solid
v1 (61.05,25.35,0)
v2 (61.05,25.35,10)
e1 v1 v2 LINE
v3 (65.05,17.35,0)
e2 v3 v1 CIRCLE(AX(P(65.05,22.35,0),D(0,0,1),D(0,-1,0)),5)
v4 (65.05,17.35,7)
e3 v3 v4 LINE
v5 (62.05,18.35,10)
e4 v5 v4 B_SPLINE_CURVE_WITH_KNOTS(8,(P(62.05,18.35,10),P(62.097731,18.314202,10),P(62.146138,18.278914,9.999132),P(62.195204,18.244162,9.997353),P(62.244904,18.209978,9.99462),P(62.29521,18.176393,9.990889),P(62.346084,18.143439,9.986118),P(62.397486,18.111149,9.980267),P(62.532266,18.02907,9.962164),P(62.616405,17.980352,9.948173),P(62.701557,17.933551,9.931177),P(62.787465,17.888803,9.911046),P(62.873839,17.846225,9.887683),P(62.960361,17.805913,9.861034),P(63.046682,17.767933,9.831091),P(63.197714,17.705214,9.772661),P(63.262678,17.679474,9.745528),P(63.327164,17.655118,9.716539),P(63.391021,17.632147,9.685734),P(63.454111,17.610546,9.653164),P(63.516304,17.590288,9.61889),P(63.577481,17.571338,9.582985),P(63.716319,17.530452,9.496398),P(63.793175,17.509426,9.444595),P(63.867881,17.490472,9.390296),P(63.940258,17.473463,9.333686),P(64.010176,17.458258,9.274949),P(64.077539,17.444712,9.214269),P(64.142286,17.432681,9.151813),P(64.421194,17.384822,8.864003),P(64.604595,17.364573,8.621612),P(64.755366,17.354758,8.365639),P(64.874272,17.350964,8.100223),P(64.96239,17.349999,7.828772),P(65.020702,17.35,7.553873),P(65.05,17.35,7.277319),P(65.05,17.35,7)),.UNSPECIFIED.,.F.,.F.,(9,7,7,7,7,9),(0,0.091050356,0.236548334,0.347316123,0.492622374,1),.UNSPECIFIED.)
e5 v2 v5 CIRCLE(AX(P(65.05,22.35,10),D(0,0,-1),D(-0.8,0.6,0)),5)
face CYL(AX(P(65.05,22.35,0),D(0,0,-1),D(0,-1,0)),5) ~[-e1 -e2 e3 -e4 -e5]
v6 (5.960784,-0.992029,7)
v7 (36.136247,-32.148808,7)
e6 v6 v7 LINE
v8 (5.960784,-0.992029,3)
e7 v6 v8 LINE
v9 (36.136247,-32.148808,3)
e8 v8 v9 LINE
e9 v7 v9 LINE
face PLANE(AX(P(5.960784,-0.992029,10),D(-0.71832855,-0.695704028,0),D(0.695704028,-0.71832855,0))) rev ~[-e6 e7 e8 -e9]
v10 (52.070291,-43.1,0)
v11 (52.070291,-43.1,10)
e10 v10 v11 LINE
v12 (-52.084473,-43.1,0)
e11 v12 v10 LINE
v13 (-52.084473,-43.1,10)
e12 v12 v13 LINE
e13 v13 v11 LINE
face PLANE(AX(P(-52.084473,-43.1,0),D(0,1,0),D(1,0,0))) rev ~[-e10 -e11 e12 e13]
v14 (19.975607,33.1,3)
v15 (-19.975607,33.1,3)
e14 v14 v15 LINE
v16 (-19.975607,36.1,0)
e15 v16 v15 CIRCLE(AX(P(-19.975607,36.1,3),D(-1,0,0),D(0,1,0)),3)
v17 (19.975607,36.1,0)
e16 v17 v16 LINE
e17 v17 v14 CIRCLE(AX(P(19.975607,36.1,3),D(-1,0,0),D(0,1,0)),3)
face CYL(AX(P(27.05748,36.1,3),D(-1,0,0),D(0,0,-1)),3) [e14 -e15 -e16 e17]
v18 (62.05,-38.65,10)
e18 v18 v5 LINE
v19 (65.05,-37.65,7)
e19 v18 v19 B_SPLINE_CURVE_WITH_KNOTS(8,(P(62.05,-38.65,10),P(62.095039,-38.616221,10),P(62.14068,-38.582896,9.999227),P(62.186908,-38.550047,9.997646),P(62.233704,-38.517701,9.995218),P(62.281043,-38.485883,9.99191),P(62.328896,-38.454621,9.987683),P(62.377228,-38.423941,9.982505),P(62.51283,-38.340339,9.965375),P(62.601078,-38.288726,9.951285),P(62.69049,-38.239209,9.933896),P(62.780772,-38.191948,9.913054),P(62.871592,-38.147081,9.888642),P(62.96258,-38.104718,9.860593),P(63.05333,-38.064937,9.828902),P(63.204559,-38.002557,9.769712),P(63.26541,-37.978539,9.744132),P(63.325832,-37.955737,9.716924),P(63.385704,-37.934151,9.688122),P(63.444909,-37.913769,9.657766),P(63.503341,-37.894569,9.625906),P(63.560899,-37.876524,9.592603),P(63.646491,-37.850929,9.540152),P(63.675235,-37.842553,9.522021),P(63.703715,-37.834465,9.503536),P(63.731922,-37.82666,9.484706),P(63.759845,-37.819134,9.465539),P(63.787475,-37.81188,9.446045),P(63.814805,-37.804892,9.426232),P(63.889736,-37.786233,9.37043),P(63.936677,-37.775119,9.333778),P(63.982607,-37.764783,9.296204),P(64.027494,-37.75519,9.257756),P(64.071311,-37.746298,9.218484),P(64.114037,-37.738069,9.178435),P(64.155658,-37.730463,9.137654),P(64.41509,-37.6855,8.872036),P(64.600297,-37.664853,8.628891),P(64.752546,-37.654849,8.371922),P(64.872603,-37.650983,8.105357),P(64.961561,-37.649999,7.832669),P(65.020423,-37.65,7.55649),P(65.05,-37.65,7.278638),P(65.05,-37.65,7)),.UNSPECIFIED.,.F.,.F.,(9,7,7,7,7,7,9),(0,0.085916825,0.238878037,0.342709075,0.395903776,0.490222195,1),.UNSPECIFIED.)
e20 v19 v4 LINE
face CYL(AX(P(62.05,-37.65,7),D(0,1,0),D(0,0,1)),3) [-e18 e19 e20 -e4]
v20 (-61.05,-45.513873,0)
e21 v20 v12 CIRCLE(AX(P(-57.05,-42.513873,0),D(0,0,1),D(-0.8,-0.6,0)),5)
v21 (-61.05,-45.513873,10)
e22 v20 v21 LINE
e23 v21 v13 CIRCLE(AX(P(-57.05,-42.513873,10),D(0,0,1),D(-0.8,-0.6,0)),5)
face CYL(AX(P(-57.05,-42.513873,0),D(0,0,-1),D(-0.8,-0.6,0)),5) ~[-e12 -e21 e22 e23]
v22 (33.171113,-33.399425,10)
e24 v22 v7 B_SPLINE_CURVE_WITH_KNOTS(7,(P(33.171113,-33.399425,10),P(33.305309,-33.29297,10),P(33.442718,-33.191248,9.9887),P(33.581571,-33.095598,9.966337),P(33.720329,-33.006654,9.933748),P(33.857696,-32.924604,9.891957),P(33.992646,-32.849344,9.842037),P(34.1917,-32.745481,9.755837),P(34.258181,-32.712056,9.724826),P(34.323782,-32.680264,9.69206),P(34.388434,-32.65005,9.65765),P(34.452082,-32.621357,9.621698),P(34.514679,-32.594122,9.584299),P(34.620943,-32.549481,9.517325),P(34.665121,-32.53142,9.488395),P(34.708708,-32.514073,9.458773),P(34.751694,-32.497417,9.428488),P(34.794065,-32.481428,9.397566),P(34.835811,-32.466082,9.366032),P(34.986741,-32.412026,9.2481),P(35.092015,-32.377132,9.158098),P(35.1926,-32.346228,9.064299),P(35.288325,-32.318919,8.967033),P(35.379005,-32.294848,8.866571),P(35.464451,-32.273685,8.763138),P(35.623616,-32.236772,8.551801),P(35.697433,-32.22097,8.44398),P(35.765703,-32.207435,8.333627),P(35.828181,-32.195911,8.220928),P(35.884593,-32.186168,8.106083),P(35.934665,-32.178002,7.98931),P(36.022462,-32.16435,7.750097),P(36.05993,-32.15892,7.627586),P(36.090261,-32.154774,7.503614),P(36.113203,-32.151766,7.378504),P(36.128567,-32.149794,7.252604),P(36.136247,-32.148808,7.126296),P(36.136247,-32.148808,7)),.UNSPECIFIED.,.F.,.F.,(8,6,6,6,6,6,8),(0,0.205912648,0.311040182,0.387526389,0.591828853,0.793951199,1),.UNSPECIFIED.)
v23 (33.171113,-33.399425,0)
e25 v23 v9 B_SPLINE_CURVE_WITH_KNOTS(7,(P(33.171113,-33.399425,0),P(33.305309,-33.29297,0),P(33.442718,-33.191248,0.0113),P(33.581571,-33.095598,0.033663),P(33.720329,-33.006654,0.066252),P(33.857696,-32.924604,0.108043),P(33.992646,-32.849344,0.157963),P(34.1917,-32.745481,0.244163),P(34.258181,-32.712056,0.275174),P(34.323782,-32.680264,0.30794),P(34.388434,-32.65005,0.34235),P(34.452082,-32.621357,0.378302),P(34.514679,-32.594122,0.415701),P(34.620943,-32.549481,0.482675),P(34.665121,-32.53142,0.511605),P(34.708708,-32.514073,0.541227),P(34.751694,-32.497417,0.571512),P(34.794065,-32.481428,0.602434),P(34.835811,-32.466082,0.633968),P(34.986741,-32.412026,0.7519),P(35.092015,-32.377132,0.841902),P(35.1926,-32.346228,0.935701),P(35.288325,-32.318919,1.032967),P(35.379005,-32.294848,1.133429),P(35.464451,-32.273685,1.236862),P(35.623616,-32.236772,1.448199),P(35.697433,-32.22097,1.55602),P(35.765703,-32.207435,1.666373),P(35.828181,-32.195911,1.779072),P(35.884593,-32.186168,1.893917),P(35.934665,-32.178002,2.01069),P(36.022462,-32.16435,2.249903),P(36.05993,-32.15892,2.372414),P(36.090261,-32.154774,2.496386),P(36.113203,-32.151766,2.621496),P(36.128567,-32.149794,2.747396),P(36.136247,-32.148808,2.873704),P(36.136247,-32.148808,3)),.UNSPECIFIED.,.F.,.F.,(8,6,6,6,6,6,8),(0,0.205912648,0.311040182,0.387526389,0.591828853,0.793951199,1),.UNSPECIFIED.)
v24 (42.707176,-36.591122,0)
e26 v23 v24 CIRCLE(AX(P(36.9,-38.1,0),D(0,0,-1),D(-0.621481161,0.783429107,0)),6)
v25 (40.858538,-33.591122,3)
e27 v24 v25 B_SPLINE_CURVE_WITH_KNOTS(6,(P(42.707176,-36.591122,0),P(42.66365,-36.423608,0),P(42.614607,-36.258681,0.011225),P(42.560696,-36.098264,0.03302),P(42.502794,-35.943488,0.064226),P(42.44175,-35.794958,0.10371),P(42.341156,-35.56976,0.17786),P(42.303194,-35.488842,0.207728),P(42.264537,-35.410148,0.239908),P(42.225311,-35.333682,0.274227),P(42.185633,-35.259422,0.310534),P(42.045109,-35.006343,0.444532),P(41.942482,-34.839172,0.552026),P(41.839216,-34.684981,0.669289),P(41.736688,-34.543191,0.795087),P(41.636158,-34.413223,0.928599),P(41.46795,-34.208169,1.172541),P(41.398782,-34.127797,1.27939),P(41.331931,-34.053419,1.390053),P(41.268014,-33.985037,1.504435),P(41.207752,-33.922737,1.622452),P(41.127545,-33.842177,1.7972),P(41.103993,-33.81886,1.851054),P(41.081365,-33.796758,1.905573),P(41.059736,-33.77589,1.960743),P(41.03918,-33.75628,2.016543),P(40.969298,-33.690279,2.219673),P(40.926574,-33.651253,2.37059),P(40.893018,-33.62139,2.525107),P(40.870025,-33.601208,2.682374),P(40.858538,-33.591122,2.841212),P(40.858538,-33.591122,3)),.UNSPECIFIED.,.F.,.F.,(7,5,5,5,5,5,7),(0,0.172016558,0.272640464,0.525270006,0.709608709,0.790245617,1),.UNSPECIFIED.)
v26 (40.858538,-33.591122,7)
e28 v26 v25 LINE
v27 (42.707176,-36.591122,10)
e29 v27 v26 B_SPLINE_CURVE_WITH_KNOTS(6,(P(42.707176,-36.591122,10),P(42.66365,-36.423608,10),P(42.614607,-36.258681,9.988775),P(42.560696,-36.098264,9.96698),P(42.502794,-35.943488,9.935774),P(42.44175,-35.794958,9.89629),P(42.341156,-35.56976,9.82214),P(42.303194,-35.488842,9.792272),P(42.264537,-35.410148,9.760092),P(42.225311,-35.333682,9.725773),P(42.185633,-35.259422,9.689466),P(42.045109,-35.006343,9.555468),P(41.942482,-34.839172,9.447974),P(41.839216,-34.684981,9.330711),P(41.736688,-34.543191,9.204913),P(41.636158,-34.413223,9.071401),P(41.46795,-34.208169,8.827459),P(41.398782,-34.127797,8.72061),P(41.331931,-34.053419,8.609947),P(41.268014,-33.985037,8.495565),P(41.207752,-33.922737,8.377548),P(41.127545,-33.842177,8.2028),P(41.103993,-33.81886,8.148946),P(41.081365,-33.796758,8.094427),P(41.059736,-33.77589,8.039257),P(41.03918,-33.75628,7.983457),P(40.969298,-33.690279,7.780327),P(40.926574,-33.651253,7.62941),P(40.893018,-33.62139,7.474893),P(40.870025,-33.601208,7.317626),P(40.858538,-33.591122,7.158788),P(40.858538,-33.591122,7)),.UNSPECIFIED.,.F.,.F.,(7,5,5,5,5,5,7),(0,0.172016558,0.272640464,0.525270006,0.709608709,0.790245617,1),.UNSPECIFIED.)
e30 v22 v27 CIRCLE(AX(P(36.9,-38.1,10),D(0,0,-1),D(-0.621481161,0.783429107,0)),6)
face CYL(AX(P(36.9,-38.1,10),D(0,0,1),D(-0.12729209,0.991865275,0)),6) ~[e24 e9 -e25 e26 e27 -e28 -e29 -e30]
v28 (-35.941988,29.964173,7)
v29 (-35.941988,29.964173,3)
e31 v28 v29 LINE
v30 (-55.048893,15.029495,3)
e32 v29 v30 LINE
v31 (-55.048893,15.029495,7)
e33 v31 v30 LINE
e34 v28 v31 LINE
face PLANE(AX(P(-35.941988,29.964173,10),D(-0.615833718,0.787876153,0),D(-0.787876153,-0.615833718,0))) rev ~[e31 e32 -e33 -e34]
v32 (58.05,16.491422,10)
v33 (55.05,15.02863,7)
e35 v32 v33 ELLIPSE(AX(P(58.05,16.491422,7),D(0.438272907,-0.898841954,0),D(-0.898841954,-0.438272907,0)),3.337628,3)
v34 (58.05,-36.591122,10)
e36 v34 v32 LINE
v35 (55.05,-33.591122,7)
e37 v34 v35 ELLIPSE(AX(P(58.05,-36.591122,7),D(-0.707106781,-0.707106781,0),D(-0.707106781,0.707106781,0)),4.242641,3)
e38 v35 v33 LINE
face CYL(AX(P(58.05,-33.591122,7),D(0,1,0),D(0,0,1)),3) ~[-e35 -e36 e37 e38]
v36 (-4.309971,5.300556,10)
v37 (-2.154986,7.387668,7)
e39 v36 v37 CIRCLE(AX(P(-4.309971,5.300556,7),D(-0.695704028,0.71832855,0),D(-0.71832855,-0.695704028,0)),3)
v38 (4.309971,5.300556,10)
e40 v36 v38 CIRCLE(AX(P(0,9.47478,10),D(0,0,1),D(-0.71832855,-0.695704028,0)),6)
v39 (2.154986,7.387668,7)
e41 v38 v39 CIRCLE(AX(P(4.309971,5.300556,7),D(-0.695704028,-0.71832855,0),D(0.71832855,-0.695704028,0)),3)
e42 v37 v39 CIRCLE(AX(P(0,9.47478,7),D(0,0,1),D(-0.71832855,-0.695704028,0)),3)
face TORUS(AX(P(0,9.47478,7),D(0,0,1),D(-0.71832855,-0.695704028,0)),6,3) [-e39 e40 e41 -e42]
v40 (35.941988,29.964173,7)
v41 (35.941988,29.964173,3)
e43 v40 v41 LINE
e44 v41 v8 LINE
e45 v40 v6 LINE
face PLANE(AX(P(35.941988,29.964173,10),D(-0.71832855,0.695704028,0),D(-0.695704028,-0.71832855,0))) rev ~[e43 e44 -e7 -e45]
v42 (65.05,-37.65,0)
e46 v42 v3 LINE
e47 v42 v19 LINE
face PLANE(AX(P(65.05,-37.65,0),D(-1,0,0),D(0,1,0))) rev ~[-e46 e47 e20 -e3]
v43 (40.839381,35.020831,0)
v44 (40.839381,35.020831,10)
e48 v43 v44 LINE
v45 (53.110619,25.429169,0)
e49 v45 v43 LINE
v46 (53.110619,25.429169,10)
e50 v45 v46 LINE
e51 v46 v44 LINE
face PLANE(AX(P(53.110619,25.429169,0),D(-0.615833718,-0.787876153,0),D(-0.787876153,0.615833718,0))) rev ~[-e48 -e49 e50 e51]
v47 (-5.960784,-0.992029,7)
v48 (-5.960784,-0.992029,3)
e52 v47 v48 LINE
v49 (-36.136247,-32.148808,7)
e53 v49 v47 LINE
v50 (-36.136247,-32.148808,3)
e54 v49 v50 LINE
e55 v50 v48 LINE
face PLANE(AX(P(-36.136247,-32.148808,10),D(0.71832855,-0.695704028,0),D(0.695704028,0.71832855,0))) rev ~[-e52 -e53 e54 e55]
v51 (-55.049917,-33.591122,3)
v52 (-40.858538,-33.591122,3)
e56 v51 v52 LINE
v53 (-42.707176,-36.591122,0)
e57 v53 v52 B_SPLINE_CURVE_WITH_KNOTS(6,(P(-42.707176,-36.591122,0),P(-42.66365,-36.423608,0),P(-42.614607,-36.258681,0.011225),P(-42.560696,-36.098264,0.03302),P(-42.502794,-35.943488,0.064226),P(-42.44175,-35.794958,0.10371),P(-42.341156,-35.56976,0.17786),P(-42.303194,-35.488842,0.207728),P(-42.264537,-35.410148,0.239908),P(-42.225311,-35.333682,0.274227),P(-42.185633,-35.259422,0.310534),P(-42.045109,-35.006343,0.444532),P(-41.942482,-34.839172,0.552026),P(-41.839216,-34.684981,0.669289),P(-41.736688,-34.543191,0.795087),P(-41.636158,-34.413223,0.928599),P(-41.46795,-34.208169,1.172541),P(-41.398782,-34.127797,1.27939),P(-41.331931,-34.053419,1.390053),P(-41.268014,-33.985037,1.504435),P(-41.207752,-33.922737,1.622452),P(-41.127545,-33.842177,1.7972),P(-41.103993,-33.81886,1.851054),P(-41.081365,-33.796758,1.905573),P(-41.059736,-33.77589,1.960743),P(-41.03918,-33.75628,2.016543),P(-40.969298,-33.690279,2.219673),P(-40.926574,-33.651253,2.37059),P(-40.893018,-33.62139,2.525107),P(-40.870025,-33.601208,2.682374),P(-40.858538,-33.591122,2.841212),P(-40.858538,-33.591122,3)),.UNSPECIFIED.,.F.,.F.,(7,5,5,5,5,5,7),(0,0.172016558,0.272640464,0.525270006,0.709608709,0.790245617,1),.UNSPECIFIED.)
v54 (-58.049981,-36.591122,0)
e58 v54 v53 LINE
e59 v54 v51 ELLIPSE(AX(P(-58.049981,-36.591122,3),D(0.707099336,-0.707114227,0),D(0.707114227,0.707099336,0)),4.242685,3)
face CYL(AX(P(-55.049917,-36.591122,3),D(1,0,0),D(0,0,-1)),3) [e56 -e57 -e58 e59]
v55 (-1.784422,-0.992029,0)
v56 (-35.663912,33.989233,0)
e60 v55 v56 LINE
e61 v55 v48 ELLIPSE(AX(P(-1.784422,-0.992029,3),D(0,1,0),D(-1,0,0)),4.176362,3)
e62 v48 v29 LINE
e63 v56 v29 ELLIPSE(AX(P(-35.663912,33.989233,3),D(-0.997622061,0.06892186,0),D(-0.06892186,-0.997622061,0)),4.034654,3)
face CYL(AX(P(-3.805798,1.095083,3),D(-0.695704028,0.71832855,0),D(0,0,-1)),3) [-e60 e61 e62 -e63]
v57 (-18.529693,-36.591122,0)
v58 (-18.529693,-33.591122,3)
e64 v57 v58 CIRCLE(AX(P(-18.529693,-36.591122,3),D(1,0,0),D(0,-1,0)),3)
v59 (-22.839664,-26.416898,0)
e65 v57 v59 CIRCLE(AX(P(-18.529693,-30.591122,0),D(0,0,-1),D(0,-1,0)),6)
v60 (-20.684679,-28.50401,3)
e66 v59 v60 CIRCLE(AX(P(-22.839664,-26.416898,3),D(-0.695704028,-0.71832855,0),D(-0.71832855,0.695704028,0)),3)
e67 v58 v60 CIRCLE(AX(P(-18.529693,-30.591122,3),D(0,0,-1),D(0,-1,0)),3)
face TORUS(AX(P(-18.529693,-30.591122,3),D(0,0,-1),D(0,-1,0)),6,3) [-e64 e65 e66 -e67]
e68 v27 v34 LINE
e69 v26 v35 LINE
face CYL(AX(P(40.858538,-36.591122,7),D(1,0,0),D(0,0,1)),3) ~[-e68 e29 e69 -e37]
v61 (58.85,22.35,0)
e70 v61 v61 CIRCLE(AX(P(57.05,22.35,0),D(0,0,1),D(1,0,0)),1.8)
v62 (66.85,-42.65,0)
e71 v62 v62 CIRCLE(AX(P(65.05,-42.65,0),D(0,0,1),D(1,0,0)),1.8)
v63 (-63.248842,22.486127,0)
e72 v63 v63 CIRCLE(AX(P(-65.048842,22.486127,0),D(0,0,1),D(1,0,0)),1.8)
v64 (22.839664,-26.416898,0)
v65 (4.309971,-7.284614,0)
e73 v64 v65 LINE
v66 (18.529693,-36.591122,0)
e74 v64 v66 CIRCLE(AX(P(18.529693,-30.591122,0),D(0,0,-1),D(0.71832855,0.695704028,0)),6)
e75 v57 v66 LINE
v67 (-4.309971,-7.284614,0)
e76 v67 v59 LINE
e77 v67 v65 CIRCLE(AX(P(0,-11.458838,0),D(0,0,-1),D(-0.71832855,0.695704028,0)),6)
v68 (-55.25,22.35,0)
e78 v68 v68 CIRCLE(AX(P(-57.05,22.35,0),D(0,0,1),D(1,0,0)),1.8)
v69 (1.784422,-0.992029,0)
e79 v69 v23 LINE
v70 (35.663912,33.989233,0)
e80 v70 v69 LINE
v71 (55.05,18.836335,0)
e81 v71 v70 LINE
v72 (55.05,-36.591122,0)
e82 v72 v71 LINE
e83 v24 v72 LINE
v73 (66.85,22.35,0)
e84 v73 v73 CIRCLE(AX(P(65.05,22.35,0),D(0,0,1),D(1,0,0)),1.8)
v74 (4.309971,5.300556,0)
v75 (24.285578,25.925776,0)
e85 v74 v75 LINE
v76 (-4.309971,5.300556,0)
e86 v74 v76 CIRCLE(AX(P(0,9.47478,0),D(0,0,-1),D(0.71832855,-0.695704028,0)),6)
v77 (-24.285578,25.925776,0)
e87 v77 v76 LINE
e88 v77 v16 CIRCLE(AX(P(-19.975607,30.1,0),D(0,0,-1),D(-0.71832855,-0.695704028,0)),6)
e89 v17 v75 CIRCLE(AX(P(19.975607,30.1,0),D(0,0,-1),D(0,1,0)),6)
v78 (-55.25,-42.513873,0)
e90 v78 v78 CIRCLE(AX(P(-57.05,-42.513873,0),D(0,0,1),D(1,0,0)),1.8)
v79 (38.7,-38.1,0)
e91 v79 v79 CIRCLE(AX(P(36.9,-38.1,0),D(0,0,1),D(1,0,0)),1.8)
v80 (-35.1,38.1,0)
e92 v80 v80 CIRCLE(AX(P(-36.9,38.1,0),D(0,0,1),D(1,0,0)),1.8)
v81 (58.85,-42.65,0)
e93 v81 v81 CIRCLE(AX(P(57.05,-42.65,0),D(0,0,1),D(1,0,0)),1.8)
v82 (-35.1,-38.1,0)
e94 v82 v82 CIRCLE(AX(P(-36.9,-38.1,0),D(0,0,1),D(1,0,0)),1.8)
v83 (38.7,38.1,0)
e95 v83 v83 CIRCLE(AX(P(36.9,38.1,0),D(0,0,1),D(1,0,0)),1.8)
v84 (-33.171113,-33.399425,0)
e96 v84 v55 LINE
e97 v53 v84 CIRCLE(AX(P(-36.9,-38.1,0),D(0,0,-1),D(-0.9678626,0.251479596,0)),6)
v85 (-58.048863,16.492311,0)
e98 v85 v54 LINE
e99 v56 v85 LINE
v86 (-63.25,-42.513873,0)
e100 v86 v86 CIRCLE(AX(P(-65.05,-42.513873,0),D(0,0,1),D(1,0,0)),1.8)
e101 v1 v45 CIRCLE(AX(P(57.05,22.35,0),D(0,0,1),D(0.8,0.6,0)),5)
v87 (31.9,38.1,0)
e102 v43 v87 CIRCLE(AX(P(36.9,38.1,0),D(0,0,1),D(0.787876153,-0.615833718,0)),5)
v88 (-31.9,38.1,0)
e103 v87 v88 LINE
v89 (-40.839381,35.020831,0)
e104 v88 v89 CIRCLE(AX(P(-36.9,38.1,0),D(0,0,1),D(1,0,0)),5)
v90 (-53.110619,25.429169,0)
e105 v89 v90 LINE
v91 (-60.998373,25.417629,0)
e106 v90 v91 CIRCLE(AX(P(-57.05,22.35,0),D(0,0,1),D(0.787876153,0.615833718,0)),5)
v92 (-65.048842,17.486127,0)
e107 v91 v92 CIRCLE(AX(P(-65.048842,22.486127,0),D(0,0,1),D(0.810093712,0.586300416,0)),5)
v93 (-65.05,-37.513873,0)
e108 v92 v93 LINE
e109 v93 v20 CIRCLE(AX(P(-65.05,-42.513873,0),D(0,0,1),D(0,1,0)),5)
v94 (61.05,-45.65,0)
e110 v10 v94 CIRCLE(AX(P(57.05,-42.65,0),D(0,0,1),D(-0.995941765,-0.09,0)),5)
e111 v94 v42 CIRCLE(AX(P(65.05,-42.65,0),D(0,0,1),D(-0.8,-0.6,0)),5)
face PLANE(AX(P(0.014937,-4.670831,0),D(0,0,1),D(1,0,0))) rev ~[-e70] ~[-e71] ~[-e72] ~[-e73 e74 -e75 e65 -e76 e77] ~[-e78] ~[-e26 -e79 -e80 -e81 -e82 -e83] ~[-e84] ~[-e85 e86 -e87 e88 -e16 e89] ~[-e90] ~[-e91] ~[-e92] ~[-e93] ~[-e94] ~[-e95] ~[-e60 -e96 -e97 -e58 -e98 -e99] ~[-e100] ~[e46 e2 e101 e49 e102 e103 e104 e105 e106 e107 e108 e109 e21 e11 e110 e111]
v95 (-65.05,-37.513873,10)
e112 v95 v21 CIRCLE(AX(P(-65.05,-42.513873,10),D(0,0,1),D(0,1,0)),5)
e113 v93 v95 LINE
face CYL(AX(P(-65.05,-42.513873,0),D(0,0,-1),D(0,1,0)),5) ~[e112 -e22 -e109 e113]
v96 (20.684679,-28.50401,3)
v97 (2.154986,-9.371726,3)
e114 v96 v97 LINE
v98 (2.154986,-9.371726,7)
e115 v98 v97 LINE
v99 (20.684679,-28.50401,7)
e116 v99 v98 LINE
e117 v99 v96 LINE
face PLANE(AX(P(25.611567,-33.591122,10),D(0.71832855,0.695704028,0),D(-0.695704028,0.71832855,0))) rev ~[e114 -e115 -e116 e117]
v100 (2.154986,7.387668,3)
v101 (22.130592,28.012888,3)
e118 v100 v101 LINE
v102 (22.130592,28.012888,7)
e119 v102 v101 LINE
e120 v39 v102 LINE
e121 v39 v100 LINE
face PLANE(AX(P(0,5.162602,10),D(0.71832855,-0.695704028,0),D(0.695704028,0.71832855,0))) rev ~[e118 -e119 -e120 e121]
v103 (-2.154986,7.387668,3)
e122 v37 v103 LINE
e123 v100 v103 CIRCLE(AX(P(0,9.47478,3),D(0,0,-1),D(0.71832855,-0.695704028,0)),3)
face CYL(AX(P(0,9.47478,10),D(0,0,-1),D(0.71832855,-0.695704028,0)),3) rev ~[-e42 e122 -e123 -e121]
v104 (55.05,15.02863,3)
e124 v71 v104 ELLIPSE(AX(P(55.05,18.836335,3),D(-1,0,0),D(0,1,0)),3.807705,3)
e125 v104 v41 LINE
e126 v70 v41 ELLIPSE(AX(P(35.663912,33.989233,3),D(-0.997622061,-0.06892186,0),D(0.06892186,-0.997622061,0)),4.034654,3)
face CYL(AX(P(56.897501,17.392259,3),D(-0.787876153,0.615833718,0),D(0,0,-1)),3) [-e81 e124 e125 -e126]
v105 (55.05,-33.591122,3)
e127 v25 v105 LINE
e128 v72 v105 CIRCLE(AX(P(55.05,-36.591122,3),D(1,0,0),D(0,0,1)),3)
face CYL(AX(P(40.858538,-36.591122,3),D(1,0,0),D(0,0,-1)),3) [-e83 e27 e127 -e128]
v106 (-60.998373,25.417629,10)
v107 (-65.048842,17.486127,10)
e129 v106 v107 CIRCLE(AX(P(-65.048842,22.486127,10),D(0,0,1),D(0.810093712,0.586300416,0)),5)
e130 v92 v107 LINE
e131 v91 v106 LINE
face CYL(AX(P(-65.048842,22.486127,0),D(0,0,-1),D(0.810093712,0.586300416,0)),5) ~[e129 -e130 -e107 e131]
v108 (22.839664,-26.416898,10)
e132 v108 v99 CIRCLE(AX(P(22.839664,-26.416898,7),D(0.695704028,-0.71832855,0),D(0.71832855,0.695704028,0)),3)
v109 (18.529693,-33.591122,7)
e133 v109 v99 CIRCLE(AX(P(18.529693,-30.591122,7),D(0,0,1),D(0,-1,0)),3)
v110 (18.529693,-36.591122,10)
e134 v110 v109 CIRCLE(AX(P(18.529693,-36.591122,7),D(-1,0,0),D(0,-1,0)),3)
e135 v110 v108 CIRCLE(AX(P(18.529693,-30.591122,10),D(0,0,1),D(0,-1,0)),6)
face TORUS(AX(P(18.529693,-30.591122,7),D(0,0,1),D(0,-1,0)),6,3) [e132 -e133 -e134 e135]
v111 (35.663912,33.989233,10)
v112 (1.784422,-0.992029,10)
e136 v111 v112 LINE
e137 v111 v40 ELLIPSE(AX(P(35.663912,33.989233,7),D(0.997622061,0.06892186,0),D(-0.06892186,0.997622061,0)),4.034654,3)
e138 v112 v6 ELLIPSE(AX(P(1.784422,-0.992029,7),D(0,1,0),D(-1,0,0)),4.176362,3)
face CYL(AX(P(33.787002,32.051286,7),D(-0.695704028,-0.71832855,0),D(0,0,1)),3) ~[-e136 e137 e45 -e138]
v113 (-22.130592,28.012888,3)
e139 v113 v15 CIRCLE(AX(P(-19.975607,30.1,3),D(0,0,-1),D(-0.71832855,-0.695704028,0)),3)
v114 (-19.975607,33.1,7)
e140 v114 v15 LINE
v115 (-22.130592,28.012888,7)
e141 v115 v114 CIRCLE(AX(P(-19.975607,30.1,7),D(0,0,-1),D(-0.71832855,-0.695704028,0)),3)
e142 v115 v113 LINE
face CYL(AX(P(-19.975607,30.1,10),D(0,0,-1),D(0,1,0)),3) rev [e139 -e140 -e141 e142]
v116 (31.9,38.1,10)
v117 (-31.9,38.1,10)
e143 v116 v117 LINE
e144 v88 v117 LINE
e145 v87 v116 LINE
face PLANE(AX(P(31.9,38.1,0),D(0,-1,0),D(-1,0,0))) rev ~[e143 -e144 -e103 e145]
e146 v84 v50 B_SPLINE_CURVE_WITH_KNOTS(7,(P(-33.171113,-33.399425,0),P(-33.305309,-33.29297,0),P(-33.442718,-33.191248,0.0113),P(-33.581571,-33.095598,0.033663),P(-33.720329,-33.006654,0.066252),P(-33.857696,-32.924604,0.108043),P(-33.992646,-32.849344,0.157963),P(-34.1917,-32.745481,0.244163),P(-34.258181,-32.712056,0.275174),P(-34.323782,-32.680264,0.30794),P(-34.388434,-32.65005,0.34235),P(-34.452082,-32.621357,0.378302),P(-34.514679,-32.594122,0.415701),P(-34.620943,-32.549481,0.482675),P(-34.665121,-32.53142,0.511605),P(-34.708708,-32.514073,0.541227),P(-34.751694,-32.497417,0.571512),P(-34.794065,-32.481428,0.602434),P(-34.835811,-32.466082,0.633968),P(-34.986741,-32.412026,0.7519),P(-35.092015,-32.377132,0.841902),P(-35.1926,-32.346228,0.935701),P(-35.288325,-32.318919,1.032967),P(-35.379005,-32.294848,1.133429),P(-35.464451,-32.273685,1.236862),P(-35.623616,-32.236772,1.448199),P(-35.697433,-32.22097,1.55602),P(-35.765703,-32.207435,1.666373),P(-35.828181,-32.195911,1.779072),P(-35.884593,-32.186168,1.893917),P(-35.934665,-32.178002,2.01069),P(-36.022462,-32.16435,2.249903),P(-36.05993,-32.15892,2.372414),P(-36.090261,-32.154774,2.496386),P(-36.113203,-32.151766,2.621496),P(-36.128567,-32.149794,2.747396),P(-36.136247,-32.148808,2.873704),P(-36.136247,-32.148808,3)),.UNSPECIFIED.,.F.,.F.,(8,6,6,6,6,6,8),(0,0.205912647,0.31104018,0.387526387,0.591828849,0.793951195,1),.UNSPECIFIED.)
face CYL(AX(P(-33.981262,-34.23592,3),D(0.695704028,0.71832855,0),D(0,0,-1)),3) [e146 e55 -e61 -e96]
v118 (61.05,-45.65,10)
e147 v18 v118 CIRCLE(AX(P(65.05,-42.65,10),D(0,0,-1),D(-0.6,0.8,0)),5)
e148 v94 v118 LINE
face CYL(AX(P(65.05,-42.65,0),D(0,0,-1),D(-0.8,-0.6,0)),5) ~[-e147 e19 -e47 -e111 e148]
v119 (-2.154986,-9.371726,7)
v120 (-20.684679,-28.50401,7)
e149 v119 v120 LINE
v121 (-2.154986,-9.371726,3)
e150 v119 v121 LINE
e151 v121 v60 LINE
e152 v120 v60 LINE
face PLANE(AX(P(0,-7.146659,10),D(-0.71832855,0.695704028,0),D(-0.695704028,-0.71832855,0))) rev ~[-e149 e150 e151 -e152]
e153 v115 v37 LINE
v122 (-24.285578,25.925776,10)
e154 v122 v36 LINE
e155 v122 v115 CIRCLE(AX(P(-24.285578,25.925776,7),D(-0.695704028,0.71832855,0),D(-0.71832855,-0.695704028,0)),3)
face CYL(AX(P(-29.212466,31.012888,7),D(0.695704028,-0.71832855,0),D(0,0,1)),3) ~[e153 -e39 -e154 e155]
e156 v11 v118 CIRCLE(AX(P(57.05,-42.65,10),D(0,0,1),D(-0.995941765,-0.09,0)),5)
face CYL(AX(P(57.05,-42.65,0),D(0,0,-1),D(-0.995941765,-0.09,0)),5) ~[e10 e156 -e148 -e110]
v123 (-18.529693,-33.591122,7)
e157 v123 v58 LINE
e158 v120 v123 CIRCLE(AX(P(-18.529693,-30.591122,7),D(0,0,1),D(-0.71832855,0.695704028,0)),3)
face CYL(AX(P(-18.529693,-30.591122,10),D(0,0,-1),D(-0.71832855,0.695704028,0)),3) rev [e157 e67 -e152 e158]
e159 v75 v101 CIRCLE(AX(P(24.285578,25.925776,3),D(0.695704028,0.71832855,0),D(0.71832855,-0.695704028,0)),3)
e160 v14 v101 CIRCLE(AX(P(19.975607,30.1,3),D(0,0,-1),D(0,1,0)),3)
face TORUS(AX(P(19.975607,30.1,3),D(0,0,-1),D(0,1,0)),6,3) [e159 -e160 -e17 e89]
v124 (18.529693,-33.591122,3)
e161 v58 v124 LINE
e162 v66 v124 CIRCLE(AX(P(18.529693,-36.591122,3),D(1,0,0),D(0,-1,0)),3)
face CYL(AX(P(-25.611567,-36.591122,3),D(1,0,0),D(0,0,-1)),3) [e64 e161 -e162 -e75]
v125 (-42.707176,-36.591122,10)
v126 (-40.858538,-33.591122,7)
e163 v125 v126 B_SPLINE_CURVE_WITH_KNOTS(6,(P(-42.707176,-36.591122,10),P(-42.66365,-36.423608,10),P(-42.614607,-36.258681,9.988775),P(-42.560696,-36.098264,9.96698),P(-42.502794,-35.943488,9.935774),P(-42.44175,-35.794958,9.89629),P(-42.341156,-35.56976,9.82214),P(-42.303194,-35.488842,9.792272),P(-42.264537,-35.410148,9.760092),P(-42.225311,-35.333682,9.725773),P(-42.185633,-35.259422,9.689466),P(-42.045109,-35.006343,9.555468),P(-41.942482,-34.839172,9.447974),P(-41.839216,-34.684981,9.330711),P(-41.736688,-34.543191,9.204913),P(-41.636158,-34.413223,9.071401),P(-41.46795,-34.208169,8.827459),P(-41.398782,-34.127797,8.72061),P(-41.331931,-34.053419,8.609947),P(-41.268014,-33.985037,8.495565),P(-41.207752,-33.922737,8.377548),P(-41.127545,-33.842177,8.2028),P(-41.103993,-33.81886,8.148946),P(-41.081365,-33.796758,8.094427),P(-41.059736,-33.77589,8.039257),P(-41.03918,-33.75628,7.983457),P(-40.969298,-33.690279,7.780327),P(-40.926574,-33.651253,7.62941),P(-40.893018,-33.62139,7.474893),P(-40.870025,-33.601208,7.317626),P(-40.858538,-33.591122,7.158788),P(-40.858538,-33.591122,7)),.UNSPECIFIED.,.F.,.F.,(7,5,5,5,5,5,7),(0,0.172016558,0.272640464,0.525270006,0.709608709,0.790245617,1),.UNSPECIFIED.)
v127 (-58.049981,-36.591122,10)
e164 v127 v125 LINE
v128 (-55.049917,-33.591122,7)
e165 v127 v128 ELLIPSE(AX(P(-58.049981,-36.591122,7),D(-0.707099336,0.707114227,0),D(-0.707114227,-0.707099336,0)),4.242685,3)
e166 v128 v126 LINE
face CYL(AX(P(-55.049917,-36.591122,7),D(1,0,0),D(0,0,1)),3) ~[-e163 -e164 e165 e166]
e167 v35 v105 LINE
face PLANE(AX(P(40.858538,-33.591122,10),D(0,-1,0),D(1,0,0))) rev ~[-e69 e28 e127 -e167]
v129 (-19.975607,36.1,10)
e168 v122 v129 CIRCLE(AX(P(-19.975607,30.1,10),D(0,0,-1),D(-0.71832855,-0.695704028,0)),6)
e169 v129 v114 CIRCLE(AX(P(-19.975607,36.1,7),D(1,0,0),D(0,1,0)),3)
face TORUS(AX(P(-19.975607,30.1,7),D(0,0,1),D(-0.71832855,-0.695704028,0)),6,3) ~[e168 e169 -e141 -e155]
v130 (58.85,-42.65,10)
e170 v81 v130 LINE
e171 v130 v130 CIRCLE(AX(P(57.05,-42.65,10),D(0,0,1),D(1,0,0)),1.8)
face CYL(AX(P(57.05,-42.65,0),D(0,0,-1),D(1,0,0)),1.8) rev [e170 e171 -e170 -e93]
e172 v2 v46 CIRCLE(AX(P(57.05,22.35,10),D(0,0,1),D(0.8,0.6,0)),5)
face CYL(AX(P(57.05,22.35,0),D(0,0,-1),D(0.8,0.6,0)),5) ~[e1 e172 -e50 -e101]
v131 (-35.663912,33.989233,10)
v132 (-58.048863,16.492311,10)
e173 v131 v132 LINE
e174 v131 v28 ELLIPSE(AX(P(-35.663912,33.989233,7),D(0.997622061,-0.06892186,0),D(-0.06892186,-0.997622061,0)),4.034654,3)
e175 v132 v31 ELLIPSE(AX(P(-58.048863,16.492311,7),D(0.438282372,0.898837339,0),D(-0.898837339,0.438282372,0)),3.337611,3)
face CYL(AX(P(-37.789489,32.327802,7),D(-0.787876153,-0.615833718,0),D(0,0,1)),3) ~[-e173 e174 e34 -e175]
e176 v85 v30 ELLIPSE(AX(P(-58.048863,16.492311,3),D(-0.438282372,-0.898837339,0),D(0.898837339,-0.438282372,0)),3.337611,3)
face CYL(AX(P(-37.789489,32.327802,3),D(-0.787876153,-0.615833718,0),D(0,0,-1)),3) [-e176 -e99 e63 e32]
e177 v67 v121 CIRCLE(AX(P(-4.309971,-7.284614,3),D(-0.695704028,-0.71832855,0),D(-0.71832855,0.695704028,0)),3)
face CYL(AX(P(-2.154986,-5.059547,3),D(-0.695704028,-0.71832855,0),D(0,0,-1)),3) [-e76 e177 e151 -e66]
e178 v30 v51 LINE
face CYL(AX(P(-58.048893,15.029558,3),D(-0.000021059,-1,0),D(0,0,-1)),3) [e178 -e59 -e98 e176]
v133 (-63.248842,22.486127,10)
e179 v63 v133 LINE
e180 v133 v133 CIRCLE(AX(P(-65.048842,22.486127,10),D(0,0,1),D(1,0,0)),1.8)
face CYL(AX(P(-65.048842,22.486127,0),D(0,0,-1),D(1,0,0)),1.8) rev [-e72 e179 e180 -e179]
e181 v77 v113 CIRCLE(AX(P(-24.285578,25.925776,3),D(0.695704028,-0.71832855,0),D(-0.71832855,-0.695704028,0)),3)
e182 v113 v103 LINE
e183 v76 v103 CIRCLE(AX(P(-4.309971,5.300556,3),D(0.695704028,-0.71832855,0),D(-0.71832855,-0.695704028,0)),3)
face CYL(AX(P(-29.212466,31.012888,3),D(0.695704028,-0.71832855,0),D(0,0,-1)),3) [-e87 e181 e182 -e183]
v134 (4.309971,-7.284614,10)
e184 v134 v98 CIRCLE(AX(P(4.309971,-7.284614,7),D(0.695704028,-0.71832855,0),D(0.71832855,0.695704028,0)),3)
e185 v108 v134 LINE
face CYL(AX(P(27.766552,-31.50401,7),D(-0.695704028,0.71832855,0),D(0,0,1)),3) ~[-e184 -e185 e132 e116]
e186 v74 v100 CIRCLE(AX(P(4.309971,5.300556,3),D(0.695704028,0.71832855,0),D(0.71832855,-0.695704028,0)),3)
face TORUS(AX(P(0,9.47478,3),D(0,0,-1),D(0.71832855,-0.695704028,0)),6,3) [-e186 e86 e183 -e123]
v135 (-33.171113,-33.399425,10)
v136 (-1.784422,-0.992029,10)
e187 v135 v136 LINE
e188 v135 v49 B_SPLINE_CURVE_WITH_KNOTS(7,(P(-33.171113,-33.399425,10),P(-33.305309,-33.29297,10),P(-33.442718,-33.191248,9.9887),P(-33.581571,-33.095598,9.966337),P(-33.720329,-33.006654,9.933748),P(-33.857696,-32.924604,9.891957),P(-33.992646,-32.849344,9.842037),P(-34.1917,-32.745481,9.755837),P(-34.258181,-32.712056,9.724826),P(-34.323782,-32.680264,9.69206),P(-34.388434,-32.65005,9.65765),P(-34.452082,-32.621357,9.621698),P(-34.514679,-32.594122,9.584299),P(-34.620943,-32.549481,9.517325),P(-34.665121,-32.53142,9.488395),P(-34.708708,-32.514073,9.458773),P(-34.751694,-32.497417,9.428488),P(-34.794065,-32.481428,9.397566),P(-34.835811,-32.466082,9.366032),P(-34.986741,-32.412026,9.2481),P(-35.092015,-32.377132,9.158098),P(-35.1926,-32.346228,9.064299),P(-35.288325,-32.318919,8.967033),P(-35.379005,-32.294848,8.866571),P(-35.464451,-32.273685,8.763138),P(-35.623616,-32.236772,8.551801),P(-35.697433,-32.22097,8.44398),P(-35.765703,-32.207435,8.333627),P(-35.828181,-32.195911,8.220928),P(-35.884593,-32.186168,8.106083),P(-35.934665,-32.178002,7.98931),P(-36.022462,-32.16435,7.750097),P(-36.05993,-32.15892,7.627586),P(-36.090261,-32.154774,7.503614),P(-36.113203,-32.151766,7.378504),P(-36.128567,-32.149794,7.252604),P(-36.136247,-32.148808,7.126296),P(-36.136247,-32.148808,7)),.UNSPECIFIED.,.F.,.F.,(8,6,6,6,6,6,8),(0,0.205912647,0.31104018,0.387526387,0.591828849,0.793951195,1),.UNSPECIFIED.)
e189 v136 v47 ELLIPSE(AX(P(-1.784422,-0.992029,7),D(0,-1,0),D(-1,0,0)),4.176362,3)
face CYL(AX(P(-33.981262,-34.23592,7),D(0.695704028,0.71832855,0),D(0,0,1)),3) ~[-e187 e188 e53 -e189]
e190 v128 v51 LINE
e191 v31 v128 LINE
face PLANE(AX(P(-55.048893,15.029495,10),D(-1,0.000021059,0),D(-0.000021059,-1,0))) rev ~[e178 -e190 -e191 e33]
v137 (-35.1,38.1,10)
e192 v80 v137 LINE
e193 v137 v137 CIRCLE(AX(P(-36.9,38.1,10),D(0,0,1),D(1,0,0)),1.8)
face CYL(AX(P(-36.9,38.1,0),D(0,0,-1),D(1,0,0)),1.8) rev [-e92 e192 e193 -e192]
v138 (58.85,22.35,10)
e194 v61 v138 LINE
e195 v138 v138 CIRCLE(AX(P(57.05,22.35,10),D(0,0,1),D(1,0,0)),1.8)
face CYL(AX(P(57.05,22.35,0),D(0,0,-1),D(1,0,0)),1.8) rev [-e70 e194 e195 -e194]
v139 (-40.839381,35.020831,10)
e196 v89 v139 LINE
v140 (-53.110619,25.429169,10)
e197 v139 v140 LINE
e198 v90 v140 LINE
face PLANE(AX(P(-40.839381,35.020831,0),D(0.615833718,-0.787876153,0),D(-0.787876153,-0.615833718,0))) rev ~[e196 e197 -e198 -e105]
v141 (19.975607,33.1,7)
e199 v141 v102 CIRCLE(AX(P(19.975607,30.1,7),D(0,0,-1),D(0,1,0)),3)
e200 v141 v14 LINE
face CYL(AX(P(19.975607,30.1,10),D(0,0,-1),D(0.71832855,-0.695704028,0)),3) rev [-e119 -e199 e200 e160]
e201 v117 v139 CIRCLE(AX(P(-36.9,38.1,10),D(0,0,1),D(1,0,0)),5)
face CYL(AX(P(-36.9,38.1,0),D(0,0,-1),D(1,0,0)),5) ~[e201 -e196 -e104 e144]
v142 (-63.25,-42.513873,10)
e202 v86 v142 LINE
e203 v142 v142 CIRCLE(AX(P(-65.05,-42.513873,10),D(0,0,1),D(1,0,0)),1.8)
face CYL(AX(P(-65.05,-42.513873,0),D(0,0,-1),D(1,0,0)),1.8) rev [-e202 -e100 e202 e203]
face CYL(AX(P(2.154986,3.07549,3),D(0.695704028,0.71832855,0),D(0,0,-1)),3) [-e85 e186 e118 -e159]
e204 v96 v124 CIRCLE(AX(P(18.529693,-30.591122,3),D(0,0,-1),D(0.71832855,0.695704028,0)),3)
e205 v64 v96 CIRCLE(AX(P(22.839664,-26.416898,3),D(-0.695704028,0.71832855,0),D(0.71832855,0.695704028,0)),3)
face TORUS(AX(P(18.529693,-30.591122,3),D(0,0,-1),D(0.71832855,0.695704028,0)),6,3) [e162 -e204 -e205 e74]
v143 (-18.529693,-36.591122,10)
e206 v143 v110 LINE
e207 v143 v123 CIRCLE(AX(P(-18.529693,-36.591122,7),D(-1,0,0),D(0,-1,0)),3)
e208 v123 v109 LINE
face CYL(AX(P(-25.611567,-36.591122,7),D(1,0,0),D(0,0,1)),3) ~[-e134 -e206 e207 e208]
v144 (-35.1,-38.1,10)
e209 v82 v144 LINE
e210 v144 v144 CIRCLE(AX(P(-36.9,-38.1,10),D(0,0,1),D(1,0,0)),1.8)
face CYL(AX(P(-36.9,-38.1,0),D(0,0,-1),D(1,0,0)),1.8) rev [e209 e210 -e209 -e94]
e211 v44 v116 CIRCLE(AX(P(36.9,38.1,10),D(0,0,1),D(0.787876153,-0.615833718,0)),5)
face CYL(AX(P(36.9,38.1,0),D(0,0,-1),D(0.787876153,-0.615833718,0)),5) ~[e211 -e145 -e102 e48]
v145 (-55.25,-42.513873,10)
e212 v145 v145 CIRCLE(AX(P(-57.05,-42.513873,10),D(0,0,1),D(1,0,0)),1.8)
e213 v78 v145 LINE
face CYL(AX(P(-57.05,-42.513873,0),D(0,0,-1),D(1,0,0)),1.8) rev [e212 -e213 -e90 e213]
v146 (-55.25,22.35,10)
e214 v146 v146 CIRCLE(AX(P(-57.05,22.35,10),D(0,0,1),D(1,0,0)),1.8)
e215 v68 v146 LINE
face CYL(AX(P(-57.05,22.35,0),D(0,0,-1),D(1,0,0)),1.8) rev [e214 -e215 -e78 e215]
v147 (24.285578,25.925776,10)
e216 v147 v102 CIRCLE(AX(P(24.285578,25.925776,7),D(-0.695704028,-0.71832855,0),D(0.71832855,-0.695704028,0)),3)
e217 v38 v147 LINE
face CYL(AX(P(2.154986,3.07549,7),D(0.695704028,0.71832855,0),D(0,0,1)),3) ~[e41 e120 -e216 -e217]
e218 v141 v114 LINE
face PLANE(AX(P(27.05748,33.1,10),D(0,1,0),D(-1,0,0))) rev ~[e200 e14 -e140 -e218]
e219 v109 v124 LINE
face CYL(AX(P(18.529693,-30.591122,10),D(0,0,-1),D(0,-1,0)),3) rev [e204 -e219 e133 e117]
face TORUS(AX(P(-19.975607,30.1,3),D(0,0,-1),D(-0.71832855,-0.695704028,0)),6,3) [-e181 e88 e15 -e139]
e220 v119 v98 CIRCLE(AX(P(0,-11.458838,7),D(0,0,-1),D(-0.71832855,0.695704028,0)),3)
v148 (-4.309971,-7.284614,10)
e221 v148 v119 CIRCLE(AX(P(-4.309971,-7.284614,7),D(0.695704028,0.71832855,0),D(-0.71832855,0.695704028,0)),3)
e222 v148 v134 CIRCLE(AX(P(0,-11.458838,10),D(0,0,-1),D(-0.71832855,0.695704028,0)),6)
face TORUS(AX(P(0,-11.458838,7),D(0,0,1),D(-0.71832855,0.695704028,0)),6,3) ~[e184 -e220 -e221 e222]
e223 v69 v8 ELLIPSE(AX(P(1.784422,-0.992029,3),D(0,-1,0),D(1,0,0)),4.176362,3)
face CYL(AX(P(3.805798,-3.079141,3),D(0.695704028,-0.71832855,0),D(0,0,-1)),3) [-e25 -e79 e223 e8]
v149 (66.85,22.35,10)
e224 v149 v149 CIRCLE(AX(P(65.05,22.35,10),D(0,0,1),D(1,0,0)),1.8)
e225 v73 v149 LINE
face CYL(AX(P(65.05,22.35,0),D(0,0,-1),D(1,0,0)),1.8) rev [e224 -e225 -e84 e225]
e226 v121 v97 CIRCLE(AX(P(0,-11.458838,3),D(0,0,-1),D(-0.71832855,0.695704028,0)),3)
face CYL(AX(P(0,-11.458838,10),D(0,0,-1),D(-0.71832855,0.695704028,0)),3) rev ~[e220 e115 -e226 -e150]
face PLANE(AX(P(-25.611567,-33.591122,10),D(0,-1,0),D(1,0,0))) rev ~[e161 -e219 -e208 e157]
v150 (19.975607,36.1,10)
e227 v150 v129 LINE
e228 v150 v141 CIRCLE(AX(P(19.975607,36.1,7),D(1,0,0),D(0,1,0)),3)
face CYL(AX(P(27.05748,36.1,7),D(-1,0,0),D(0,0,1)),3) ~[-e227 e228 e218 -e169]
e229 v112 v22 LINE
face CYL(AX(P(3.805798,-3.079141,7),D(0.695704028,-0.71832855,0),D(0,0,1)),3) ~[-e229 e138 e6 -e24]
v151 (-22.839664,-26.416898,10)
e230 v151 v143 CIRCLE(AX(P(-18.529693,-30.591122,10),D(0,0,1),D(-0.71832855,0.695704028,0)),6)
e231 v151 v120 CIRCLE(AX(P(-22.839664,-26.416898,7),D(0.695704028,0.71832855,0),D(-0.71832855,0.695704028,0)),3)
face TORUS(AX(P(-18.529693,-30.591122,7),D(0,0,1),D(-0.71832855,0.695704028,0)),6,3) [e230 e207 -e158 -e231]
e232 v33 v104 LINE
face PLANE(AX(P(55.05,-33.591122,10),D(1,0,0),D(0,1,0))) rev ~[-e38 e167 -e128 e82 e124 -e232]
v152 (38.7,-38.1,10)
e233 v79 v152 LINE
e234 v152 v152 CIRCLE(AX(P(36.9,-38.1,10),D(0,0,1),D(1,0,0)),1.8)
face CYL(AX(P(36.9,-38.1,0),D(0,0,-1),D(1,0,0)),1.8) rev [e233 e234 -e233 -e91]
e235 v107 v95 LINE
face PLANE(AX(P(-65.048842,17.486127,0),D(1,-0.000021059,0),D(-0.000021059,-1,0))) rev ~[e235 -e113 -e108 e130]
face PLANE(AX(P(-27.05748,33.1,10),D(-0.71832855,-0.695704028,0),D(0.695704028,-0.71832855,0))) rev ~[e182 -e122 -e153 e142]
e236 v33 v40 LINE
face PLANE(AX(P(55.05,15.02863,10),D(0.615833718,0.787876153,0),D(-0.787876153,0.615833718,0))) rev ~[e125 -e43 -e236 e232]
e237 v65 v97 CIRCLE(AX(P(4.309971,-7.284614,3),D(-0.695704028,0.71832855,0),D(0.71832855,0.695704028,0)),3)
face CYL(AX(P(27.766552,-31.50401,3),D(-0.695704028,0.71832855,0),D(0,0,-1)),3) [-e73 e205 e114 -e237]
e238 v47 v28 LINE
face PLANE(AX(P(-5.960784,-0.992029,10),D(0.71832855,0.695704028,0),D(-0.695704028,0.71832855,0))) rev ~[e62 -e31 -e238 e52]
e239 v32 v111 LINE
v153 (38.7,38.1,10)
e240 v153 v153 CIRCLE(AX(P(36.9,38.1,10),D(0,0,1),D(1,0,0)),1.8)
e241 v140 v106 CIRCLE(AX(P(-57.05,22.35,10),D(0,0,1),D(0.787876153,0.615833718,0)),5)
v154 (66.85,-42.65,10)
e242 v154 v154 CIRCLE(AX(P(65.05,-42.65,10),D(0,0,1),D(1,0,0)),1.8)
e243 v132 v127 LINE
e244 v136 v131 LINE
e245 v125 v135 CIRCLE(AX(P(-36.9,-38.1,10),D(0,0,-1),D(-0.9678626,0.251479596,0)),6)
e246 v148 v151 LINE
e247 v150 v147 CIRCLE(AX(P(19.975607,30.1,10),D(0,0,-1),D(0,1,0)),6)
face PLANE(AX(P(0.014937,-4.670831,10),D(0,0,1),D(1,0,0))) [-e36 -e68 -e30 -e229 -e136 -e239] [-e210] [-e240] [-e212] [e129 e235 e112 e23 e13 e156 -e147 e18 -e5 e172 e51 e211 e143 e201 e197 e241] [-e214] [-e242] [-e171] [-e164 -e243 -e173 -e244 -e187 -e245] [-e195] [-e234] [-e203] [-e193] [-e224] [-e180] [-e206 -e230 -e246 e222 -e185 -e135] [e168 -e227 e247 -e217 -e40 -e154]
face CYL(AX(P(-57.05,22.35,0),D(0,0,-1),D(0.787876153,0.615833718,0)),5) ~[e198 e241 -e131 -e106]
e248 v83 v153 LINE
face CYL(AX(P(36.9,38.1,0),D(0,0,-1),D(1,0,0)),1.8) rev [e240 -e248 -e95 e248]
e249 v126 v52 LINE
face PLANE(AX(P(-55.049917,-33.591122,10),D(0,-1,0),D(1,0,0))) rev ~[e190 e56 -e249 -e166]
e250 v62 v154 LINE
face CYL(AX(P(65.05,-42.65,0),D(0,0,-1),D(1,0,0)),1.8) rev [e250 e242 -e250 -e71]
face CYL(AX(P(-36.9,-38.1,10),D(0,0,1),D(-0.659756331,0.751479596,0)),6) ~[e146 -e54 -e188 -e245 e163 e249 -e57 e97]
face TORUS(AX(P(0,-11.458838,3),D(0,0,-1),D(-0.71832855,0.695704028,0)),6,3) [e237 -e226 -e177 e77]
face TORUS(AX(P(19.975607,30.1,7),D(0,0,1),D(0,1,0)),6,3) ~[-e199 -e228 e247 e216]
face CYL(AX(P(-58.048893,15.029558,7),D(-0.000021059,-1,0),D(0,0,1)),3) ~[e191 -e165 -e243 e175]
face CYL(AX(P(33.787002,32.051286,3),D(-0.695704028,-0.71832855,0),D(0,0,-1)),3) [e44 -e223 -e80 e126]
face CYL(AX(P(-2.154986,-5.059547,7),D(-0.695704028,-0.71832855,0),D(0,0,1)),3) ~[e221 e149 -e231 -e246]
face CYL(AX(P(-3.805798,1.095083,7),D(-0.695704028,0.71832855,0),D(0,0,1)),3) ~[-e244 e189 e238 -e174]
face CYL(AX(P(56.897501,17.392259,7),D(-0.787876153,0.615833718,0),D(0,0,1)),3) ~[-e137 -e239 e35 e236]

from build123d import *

# Parameters (mm, degrees)
SKETCH2_R           = 1.7999999999999927
SKETCH2_R_2         = 1.8000000000000014
SKETCH2_R_3         = 1.7999999999999936
SKETCH2_R_4         = 1.8000000000000005
BOSS_EXTRUDE1_DEPTH = 10
CUT_EXTRUDE1_DEPTH  = 86.30841107417254
FILLET1_R           = 3


with BuildPart() as part:
    # Sketch2 → Boss-Extrude1 (new body)
    with BuildSketch(Plane.XY):
        with BuildLine():
            ThreePointArc((-60.998373193608856, 25.417629235091972), (-69.50179079881426, 24.76016426994454), (-65.04884175350759, 17.486127155053257))
            Line((-65.04884175350759, 17.486127155053268), (-65.05000000000001, -37.513872834627236))
            ThreePointArc((-65.05000000000001, -37.513872834627236), (-69.52213595499958, -44.74994081212703), (-61.050000000000004, -45.51387283462723))
            ThreePointArc((-61.05, -45.51387283462723), (-55.75009387067255, -47.34194119111691), (-52.0844733465611, -43.09999999999998))
            Line((-52.084473346561104, -43.09999999999998), (-36.9, -43.09999999999998))
            Line((-36.9, -43.09999999999998), (36.9, -43.09999999999998))
            Line((36.9, -43.09999999999998), (52.07029117317087, -43.09999999999998))
            ThreePointArc((52.07029117317087, -43.09999999999998), (55.68413677612224, -47.459825116743666), (61.04999999999999, -45.65000000000001))
            ThreePointArc((61.04999999999999, -45.65000000000001), (69.52213595499958, -44.8860679774998), (65.04999999999998, -37.650000000000006))
            Line((65.04999999999998, -37.650000000000006), (65.05, 17.349999999999987))
            ThreePointArc((65.05, 17.349999999999984), (69.52213595499958, 24.586067977499784), (61.04999999999999, 25.349999999999994))
            ThreePointArc((61.04999999999999, 25.349999999999994), (57.09985568418244, 27.349751434896987), (53.110619235405444, 25.42916858771037))
            Line((53.110619235405444, 25.42916858771037), (40.839380764594566, 35.020831412289596))
            ThreePointArc((40.839380764594566, 35.020831412289596), (38.528357481793726, 42.827414929058605), (31.900000000000006, 38.09999999999998))
            Line((31.900000000000006, 38.09999999999998), (-31.89999999999999, 38.09999999999998))
            ThreePointArc((-31.899999999999988, 38.09999999999998), (-38.52835748179412, 42.82741492905847), (-40.839380764594004, 35.02083141228891))
            Line((-40.83938076459401, 35.02083141228891), (-53.11061923540529, 25.4291685877102))
            ThreePointArc((-53.11061923540529, 25.4291685877102), (-57.05731471869626, 27.349994649486177), (-60.99837319360884, 25.41762923509198))
        make_face()
        with Locations((-65.05000000000001, -42.513872834627236)):
            Circle(SKETCH2_R, mode=Mode.SUBTRACT)
        with Locations((-57.050000000000004, -42.513872834627236)):
            Circle(SKETCH2_R_2, mode=Mode.SUBTRACT)
        with Locations((-36.9, -38.09999999999998)):
            Circle(SKETCH2_R_2, mode=Mode.SUBTRACT)
        with Locations((36.9, -38.09999999999998)):
            Circle(SKETCH2_R_2, mode=Mode.SUBTRACT)
        with Locations((57.050000000000004, -42.650000000000006)):
            Circle(SKETCH2_R_2, mode=Mode.SUBTRACT)
        with Locations((65.05, -42.650000000000006)):
            Circle(SKETCH2_R, mode=Mode.SUBTRACT)
        with Locations((-65.04884175350765, 22.486127155053268)):
            Circle(SKETCH2_R_3, mode=Mode.SUBTRACT)
        with Locations((-57.050000000000004, 22.349999999999977)):
            Circle(SKETCH2_R_3, mode=Mode.SUBTRACT)
        with Locations((-36.89999999999999, 38.09999999999998)):
            Circle(SKETCH2_R_2, mode=Mode.SUBTRACT)
        with Locations((57.050000000000004, 22.349999999999987)):
            Circle(SKETCH2_R_4, mode=Mode.SUBTRACT)
        with Locations((65.05, 22.34999999999999)):
            Circle(SKETCH2_R_3, mode=Mode.SUBTRACT)
        with Locations((36.900000000000006, 38.09999999999998)):
            Circle(SKETCH2_R_2, mode=Mode.SUBTRACT)
    extrude(amount=BOSS_EXTRUDE1_DEPTH)

    # Sketch3 → Cut-Extrude1 (cut, through all)
    with BuildSketch(Plane.XY.offset(10)):
        with BuildLine():
            Line((-35.941987653909244, 29.964173484996504), (-55.04889348556858, 15.02949522948242))
            Line((-55.04889348556858, 15.02949522948242), (-55.04991738847525, -33.591122423586484))
            Line((-55.04991738847525, -33.591122423586484), (-40.85853798780756, -33.591122423586484))
            ThreePointArc((-40.85853798780756, -33.591122423586484), (-38.65263543886247, -32.3616841304749), (-36.13624745721949, -32.148808350137216))
            Line((-36.13624745721949, -32.148808350137216), (-5.96078383225156, -0.9920288349264463))
            Line((-5.960783832251558, -0.9920288349264474), (-35.941987653909244, 29.964173484996504))
        make_face()
        with BuildLine():
            ThreePointArc((36.13624745721953, -32.148808350137216), (38.65263543886248, -32.36168413047491), (40.85853798780755, -33.591122423586484))
            Line((40.85853798780755, -33.591122423586484), (55.05, -33.591122423586484))
            Line((55.05, -33.591122423586484), (55.05, 15.028630336068145))
            Line((55.05, 15.028630336068145), (35.94198765390981, 29.964173484997207))
            Line((35.94198765390981, 29.964173484997207), (5.960783832251529, -0.9920288349263657))
            Line((5.960783832251532, -0.9920288349263677), (36.13624745721953, -32.148808350137216))
        make_face()
        Polygon((2.842e-14, 5.162601626016247), (27.05748031496067, 33.09999999999998), (-27.05748031496062, 33.09999999999998), align=None)
        Polygon((-5.551e-14, -7.146659295869048), (-25.611566651253955, -33.591122423586484), (25.61156665125385, -33.591122423586484), align=None)
    extrude(amount=-CUT_EXTRUDE1_DEPTH, mode=Mode.SUBTRACT)

    # Fillet1
    fillet1_edges = [part.edges().sort_by_distance(p)[0] for p in [
        (21.04851564473553, -16.57041859253179, 0),
        (20.95138574308067, 14.486072325035423, 0),
        (45.4959938269549, 22.496401910532676, 10),
        (55.05, -9.281246043759168, 10),
        (47.954268993903774, -33.591122423586484, 0),
        (45.49599382695491, 22.49640191053268, -8.9e-16),
        (47.954268993903774, -33.591122423586484, 10),
        (20.95138574308067, 14.48607232503542, 10),
        (21.04851564473553, -16.570418592531794, 10),
        (2.842e-14, 33.09999999999998, 10),
        (-27.05748031496062, 33.09999999999998, 5),
        (13.52874015748035, 19.131300813008114, 10),
        (27.057480314960674, 33.09999999999998, 5),
        (-13.528740157480296, 19.131300813008114, -8.9e-16),
        (2.842e-14, 5.162601626016247, 5),
        (2.842e-14, 33.09999999999998, 0),
        (13.52874015748035, 19.131300813008114, 0),
        (-13.528740157480296, 19.131300813008114, 10),
        (12.805783325626894, -20.368890859727767, 10),
        (-5.551e-14, -7.146659295869048, 5),
        (-5.329e-14, -33.591122423586484, 0),
        (25.611566651253845, -33.591122423586484, 5),
        (-12.805783325627004, -20.368890859727763, -8.9e-16),
        (-25.611566651253955, -33.591122423586484, 5),
        (12.805783325626894, -20.368890859727767, 0),
        (-12.805783325627004, -20.368890859727763, 10),
        (-5.329e-14, -33.591122423586484, 10),
        (-47.9542276881414, -33.591122423586484, 0),
        (-55.04940543702191, -9.280813597052033, 0),
        (-45.49544056973891, 22.49683435723946, 10),
        (-20.9513857430804, 14.486072325035028, 10),
        (-21.048515644735524, -16.57041859253183, 10),
        (-45.49544056973892, 22.496834357239464, 0),
        (-20.9513857430804, 14.48607232503503, 0),
        (-21.04851564473552, -16.57041859253183, 0),
        (-55.04940543702192, -9.280813597052033, 10),
        (-47.9542276881414, -33.591122423586484, 10),
        (65.04999999999998, -10.15000000000001, 10),
    ]]
    fillet(fillet1_edges, radius=FILLET1_R)


solid = part.part
